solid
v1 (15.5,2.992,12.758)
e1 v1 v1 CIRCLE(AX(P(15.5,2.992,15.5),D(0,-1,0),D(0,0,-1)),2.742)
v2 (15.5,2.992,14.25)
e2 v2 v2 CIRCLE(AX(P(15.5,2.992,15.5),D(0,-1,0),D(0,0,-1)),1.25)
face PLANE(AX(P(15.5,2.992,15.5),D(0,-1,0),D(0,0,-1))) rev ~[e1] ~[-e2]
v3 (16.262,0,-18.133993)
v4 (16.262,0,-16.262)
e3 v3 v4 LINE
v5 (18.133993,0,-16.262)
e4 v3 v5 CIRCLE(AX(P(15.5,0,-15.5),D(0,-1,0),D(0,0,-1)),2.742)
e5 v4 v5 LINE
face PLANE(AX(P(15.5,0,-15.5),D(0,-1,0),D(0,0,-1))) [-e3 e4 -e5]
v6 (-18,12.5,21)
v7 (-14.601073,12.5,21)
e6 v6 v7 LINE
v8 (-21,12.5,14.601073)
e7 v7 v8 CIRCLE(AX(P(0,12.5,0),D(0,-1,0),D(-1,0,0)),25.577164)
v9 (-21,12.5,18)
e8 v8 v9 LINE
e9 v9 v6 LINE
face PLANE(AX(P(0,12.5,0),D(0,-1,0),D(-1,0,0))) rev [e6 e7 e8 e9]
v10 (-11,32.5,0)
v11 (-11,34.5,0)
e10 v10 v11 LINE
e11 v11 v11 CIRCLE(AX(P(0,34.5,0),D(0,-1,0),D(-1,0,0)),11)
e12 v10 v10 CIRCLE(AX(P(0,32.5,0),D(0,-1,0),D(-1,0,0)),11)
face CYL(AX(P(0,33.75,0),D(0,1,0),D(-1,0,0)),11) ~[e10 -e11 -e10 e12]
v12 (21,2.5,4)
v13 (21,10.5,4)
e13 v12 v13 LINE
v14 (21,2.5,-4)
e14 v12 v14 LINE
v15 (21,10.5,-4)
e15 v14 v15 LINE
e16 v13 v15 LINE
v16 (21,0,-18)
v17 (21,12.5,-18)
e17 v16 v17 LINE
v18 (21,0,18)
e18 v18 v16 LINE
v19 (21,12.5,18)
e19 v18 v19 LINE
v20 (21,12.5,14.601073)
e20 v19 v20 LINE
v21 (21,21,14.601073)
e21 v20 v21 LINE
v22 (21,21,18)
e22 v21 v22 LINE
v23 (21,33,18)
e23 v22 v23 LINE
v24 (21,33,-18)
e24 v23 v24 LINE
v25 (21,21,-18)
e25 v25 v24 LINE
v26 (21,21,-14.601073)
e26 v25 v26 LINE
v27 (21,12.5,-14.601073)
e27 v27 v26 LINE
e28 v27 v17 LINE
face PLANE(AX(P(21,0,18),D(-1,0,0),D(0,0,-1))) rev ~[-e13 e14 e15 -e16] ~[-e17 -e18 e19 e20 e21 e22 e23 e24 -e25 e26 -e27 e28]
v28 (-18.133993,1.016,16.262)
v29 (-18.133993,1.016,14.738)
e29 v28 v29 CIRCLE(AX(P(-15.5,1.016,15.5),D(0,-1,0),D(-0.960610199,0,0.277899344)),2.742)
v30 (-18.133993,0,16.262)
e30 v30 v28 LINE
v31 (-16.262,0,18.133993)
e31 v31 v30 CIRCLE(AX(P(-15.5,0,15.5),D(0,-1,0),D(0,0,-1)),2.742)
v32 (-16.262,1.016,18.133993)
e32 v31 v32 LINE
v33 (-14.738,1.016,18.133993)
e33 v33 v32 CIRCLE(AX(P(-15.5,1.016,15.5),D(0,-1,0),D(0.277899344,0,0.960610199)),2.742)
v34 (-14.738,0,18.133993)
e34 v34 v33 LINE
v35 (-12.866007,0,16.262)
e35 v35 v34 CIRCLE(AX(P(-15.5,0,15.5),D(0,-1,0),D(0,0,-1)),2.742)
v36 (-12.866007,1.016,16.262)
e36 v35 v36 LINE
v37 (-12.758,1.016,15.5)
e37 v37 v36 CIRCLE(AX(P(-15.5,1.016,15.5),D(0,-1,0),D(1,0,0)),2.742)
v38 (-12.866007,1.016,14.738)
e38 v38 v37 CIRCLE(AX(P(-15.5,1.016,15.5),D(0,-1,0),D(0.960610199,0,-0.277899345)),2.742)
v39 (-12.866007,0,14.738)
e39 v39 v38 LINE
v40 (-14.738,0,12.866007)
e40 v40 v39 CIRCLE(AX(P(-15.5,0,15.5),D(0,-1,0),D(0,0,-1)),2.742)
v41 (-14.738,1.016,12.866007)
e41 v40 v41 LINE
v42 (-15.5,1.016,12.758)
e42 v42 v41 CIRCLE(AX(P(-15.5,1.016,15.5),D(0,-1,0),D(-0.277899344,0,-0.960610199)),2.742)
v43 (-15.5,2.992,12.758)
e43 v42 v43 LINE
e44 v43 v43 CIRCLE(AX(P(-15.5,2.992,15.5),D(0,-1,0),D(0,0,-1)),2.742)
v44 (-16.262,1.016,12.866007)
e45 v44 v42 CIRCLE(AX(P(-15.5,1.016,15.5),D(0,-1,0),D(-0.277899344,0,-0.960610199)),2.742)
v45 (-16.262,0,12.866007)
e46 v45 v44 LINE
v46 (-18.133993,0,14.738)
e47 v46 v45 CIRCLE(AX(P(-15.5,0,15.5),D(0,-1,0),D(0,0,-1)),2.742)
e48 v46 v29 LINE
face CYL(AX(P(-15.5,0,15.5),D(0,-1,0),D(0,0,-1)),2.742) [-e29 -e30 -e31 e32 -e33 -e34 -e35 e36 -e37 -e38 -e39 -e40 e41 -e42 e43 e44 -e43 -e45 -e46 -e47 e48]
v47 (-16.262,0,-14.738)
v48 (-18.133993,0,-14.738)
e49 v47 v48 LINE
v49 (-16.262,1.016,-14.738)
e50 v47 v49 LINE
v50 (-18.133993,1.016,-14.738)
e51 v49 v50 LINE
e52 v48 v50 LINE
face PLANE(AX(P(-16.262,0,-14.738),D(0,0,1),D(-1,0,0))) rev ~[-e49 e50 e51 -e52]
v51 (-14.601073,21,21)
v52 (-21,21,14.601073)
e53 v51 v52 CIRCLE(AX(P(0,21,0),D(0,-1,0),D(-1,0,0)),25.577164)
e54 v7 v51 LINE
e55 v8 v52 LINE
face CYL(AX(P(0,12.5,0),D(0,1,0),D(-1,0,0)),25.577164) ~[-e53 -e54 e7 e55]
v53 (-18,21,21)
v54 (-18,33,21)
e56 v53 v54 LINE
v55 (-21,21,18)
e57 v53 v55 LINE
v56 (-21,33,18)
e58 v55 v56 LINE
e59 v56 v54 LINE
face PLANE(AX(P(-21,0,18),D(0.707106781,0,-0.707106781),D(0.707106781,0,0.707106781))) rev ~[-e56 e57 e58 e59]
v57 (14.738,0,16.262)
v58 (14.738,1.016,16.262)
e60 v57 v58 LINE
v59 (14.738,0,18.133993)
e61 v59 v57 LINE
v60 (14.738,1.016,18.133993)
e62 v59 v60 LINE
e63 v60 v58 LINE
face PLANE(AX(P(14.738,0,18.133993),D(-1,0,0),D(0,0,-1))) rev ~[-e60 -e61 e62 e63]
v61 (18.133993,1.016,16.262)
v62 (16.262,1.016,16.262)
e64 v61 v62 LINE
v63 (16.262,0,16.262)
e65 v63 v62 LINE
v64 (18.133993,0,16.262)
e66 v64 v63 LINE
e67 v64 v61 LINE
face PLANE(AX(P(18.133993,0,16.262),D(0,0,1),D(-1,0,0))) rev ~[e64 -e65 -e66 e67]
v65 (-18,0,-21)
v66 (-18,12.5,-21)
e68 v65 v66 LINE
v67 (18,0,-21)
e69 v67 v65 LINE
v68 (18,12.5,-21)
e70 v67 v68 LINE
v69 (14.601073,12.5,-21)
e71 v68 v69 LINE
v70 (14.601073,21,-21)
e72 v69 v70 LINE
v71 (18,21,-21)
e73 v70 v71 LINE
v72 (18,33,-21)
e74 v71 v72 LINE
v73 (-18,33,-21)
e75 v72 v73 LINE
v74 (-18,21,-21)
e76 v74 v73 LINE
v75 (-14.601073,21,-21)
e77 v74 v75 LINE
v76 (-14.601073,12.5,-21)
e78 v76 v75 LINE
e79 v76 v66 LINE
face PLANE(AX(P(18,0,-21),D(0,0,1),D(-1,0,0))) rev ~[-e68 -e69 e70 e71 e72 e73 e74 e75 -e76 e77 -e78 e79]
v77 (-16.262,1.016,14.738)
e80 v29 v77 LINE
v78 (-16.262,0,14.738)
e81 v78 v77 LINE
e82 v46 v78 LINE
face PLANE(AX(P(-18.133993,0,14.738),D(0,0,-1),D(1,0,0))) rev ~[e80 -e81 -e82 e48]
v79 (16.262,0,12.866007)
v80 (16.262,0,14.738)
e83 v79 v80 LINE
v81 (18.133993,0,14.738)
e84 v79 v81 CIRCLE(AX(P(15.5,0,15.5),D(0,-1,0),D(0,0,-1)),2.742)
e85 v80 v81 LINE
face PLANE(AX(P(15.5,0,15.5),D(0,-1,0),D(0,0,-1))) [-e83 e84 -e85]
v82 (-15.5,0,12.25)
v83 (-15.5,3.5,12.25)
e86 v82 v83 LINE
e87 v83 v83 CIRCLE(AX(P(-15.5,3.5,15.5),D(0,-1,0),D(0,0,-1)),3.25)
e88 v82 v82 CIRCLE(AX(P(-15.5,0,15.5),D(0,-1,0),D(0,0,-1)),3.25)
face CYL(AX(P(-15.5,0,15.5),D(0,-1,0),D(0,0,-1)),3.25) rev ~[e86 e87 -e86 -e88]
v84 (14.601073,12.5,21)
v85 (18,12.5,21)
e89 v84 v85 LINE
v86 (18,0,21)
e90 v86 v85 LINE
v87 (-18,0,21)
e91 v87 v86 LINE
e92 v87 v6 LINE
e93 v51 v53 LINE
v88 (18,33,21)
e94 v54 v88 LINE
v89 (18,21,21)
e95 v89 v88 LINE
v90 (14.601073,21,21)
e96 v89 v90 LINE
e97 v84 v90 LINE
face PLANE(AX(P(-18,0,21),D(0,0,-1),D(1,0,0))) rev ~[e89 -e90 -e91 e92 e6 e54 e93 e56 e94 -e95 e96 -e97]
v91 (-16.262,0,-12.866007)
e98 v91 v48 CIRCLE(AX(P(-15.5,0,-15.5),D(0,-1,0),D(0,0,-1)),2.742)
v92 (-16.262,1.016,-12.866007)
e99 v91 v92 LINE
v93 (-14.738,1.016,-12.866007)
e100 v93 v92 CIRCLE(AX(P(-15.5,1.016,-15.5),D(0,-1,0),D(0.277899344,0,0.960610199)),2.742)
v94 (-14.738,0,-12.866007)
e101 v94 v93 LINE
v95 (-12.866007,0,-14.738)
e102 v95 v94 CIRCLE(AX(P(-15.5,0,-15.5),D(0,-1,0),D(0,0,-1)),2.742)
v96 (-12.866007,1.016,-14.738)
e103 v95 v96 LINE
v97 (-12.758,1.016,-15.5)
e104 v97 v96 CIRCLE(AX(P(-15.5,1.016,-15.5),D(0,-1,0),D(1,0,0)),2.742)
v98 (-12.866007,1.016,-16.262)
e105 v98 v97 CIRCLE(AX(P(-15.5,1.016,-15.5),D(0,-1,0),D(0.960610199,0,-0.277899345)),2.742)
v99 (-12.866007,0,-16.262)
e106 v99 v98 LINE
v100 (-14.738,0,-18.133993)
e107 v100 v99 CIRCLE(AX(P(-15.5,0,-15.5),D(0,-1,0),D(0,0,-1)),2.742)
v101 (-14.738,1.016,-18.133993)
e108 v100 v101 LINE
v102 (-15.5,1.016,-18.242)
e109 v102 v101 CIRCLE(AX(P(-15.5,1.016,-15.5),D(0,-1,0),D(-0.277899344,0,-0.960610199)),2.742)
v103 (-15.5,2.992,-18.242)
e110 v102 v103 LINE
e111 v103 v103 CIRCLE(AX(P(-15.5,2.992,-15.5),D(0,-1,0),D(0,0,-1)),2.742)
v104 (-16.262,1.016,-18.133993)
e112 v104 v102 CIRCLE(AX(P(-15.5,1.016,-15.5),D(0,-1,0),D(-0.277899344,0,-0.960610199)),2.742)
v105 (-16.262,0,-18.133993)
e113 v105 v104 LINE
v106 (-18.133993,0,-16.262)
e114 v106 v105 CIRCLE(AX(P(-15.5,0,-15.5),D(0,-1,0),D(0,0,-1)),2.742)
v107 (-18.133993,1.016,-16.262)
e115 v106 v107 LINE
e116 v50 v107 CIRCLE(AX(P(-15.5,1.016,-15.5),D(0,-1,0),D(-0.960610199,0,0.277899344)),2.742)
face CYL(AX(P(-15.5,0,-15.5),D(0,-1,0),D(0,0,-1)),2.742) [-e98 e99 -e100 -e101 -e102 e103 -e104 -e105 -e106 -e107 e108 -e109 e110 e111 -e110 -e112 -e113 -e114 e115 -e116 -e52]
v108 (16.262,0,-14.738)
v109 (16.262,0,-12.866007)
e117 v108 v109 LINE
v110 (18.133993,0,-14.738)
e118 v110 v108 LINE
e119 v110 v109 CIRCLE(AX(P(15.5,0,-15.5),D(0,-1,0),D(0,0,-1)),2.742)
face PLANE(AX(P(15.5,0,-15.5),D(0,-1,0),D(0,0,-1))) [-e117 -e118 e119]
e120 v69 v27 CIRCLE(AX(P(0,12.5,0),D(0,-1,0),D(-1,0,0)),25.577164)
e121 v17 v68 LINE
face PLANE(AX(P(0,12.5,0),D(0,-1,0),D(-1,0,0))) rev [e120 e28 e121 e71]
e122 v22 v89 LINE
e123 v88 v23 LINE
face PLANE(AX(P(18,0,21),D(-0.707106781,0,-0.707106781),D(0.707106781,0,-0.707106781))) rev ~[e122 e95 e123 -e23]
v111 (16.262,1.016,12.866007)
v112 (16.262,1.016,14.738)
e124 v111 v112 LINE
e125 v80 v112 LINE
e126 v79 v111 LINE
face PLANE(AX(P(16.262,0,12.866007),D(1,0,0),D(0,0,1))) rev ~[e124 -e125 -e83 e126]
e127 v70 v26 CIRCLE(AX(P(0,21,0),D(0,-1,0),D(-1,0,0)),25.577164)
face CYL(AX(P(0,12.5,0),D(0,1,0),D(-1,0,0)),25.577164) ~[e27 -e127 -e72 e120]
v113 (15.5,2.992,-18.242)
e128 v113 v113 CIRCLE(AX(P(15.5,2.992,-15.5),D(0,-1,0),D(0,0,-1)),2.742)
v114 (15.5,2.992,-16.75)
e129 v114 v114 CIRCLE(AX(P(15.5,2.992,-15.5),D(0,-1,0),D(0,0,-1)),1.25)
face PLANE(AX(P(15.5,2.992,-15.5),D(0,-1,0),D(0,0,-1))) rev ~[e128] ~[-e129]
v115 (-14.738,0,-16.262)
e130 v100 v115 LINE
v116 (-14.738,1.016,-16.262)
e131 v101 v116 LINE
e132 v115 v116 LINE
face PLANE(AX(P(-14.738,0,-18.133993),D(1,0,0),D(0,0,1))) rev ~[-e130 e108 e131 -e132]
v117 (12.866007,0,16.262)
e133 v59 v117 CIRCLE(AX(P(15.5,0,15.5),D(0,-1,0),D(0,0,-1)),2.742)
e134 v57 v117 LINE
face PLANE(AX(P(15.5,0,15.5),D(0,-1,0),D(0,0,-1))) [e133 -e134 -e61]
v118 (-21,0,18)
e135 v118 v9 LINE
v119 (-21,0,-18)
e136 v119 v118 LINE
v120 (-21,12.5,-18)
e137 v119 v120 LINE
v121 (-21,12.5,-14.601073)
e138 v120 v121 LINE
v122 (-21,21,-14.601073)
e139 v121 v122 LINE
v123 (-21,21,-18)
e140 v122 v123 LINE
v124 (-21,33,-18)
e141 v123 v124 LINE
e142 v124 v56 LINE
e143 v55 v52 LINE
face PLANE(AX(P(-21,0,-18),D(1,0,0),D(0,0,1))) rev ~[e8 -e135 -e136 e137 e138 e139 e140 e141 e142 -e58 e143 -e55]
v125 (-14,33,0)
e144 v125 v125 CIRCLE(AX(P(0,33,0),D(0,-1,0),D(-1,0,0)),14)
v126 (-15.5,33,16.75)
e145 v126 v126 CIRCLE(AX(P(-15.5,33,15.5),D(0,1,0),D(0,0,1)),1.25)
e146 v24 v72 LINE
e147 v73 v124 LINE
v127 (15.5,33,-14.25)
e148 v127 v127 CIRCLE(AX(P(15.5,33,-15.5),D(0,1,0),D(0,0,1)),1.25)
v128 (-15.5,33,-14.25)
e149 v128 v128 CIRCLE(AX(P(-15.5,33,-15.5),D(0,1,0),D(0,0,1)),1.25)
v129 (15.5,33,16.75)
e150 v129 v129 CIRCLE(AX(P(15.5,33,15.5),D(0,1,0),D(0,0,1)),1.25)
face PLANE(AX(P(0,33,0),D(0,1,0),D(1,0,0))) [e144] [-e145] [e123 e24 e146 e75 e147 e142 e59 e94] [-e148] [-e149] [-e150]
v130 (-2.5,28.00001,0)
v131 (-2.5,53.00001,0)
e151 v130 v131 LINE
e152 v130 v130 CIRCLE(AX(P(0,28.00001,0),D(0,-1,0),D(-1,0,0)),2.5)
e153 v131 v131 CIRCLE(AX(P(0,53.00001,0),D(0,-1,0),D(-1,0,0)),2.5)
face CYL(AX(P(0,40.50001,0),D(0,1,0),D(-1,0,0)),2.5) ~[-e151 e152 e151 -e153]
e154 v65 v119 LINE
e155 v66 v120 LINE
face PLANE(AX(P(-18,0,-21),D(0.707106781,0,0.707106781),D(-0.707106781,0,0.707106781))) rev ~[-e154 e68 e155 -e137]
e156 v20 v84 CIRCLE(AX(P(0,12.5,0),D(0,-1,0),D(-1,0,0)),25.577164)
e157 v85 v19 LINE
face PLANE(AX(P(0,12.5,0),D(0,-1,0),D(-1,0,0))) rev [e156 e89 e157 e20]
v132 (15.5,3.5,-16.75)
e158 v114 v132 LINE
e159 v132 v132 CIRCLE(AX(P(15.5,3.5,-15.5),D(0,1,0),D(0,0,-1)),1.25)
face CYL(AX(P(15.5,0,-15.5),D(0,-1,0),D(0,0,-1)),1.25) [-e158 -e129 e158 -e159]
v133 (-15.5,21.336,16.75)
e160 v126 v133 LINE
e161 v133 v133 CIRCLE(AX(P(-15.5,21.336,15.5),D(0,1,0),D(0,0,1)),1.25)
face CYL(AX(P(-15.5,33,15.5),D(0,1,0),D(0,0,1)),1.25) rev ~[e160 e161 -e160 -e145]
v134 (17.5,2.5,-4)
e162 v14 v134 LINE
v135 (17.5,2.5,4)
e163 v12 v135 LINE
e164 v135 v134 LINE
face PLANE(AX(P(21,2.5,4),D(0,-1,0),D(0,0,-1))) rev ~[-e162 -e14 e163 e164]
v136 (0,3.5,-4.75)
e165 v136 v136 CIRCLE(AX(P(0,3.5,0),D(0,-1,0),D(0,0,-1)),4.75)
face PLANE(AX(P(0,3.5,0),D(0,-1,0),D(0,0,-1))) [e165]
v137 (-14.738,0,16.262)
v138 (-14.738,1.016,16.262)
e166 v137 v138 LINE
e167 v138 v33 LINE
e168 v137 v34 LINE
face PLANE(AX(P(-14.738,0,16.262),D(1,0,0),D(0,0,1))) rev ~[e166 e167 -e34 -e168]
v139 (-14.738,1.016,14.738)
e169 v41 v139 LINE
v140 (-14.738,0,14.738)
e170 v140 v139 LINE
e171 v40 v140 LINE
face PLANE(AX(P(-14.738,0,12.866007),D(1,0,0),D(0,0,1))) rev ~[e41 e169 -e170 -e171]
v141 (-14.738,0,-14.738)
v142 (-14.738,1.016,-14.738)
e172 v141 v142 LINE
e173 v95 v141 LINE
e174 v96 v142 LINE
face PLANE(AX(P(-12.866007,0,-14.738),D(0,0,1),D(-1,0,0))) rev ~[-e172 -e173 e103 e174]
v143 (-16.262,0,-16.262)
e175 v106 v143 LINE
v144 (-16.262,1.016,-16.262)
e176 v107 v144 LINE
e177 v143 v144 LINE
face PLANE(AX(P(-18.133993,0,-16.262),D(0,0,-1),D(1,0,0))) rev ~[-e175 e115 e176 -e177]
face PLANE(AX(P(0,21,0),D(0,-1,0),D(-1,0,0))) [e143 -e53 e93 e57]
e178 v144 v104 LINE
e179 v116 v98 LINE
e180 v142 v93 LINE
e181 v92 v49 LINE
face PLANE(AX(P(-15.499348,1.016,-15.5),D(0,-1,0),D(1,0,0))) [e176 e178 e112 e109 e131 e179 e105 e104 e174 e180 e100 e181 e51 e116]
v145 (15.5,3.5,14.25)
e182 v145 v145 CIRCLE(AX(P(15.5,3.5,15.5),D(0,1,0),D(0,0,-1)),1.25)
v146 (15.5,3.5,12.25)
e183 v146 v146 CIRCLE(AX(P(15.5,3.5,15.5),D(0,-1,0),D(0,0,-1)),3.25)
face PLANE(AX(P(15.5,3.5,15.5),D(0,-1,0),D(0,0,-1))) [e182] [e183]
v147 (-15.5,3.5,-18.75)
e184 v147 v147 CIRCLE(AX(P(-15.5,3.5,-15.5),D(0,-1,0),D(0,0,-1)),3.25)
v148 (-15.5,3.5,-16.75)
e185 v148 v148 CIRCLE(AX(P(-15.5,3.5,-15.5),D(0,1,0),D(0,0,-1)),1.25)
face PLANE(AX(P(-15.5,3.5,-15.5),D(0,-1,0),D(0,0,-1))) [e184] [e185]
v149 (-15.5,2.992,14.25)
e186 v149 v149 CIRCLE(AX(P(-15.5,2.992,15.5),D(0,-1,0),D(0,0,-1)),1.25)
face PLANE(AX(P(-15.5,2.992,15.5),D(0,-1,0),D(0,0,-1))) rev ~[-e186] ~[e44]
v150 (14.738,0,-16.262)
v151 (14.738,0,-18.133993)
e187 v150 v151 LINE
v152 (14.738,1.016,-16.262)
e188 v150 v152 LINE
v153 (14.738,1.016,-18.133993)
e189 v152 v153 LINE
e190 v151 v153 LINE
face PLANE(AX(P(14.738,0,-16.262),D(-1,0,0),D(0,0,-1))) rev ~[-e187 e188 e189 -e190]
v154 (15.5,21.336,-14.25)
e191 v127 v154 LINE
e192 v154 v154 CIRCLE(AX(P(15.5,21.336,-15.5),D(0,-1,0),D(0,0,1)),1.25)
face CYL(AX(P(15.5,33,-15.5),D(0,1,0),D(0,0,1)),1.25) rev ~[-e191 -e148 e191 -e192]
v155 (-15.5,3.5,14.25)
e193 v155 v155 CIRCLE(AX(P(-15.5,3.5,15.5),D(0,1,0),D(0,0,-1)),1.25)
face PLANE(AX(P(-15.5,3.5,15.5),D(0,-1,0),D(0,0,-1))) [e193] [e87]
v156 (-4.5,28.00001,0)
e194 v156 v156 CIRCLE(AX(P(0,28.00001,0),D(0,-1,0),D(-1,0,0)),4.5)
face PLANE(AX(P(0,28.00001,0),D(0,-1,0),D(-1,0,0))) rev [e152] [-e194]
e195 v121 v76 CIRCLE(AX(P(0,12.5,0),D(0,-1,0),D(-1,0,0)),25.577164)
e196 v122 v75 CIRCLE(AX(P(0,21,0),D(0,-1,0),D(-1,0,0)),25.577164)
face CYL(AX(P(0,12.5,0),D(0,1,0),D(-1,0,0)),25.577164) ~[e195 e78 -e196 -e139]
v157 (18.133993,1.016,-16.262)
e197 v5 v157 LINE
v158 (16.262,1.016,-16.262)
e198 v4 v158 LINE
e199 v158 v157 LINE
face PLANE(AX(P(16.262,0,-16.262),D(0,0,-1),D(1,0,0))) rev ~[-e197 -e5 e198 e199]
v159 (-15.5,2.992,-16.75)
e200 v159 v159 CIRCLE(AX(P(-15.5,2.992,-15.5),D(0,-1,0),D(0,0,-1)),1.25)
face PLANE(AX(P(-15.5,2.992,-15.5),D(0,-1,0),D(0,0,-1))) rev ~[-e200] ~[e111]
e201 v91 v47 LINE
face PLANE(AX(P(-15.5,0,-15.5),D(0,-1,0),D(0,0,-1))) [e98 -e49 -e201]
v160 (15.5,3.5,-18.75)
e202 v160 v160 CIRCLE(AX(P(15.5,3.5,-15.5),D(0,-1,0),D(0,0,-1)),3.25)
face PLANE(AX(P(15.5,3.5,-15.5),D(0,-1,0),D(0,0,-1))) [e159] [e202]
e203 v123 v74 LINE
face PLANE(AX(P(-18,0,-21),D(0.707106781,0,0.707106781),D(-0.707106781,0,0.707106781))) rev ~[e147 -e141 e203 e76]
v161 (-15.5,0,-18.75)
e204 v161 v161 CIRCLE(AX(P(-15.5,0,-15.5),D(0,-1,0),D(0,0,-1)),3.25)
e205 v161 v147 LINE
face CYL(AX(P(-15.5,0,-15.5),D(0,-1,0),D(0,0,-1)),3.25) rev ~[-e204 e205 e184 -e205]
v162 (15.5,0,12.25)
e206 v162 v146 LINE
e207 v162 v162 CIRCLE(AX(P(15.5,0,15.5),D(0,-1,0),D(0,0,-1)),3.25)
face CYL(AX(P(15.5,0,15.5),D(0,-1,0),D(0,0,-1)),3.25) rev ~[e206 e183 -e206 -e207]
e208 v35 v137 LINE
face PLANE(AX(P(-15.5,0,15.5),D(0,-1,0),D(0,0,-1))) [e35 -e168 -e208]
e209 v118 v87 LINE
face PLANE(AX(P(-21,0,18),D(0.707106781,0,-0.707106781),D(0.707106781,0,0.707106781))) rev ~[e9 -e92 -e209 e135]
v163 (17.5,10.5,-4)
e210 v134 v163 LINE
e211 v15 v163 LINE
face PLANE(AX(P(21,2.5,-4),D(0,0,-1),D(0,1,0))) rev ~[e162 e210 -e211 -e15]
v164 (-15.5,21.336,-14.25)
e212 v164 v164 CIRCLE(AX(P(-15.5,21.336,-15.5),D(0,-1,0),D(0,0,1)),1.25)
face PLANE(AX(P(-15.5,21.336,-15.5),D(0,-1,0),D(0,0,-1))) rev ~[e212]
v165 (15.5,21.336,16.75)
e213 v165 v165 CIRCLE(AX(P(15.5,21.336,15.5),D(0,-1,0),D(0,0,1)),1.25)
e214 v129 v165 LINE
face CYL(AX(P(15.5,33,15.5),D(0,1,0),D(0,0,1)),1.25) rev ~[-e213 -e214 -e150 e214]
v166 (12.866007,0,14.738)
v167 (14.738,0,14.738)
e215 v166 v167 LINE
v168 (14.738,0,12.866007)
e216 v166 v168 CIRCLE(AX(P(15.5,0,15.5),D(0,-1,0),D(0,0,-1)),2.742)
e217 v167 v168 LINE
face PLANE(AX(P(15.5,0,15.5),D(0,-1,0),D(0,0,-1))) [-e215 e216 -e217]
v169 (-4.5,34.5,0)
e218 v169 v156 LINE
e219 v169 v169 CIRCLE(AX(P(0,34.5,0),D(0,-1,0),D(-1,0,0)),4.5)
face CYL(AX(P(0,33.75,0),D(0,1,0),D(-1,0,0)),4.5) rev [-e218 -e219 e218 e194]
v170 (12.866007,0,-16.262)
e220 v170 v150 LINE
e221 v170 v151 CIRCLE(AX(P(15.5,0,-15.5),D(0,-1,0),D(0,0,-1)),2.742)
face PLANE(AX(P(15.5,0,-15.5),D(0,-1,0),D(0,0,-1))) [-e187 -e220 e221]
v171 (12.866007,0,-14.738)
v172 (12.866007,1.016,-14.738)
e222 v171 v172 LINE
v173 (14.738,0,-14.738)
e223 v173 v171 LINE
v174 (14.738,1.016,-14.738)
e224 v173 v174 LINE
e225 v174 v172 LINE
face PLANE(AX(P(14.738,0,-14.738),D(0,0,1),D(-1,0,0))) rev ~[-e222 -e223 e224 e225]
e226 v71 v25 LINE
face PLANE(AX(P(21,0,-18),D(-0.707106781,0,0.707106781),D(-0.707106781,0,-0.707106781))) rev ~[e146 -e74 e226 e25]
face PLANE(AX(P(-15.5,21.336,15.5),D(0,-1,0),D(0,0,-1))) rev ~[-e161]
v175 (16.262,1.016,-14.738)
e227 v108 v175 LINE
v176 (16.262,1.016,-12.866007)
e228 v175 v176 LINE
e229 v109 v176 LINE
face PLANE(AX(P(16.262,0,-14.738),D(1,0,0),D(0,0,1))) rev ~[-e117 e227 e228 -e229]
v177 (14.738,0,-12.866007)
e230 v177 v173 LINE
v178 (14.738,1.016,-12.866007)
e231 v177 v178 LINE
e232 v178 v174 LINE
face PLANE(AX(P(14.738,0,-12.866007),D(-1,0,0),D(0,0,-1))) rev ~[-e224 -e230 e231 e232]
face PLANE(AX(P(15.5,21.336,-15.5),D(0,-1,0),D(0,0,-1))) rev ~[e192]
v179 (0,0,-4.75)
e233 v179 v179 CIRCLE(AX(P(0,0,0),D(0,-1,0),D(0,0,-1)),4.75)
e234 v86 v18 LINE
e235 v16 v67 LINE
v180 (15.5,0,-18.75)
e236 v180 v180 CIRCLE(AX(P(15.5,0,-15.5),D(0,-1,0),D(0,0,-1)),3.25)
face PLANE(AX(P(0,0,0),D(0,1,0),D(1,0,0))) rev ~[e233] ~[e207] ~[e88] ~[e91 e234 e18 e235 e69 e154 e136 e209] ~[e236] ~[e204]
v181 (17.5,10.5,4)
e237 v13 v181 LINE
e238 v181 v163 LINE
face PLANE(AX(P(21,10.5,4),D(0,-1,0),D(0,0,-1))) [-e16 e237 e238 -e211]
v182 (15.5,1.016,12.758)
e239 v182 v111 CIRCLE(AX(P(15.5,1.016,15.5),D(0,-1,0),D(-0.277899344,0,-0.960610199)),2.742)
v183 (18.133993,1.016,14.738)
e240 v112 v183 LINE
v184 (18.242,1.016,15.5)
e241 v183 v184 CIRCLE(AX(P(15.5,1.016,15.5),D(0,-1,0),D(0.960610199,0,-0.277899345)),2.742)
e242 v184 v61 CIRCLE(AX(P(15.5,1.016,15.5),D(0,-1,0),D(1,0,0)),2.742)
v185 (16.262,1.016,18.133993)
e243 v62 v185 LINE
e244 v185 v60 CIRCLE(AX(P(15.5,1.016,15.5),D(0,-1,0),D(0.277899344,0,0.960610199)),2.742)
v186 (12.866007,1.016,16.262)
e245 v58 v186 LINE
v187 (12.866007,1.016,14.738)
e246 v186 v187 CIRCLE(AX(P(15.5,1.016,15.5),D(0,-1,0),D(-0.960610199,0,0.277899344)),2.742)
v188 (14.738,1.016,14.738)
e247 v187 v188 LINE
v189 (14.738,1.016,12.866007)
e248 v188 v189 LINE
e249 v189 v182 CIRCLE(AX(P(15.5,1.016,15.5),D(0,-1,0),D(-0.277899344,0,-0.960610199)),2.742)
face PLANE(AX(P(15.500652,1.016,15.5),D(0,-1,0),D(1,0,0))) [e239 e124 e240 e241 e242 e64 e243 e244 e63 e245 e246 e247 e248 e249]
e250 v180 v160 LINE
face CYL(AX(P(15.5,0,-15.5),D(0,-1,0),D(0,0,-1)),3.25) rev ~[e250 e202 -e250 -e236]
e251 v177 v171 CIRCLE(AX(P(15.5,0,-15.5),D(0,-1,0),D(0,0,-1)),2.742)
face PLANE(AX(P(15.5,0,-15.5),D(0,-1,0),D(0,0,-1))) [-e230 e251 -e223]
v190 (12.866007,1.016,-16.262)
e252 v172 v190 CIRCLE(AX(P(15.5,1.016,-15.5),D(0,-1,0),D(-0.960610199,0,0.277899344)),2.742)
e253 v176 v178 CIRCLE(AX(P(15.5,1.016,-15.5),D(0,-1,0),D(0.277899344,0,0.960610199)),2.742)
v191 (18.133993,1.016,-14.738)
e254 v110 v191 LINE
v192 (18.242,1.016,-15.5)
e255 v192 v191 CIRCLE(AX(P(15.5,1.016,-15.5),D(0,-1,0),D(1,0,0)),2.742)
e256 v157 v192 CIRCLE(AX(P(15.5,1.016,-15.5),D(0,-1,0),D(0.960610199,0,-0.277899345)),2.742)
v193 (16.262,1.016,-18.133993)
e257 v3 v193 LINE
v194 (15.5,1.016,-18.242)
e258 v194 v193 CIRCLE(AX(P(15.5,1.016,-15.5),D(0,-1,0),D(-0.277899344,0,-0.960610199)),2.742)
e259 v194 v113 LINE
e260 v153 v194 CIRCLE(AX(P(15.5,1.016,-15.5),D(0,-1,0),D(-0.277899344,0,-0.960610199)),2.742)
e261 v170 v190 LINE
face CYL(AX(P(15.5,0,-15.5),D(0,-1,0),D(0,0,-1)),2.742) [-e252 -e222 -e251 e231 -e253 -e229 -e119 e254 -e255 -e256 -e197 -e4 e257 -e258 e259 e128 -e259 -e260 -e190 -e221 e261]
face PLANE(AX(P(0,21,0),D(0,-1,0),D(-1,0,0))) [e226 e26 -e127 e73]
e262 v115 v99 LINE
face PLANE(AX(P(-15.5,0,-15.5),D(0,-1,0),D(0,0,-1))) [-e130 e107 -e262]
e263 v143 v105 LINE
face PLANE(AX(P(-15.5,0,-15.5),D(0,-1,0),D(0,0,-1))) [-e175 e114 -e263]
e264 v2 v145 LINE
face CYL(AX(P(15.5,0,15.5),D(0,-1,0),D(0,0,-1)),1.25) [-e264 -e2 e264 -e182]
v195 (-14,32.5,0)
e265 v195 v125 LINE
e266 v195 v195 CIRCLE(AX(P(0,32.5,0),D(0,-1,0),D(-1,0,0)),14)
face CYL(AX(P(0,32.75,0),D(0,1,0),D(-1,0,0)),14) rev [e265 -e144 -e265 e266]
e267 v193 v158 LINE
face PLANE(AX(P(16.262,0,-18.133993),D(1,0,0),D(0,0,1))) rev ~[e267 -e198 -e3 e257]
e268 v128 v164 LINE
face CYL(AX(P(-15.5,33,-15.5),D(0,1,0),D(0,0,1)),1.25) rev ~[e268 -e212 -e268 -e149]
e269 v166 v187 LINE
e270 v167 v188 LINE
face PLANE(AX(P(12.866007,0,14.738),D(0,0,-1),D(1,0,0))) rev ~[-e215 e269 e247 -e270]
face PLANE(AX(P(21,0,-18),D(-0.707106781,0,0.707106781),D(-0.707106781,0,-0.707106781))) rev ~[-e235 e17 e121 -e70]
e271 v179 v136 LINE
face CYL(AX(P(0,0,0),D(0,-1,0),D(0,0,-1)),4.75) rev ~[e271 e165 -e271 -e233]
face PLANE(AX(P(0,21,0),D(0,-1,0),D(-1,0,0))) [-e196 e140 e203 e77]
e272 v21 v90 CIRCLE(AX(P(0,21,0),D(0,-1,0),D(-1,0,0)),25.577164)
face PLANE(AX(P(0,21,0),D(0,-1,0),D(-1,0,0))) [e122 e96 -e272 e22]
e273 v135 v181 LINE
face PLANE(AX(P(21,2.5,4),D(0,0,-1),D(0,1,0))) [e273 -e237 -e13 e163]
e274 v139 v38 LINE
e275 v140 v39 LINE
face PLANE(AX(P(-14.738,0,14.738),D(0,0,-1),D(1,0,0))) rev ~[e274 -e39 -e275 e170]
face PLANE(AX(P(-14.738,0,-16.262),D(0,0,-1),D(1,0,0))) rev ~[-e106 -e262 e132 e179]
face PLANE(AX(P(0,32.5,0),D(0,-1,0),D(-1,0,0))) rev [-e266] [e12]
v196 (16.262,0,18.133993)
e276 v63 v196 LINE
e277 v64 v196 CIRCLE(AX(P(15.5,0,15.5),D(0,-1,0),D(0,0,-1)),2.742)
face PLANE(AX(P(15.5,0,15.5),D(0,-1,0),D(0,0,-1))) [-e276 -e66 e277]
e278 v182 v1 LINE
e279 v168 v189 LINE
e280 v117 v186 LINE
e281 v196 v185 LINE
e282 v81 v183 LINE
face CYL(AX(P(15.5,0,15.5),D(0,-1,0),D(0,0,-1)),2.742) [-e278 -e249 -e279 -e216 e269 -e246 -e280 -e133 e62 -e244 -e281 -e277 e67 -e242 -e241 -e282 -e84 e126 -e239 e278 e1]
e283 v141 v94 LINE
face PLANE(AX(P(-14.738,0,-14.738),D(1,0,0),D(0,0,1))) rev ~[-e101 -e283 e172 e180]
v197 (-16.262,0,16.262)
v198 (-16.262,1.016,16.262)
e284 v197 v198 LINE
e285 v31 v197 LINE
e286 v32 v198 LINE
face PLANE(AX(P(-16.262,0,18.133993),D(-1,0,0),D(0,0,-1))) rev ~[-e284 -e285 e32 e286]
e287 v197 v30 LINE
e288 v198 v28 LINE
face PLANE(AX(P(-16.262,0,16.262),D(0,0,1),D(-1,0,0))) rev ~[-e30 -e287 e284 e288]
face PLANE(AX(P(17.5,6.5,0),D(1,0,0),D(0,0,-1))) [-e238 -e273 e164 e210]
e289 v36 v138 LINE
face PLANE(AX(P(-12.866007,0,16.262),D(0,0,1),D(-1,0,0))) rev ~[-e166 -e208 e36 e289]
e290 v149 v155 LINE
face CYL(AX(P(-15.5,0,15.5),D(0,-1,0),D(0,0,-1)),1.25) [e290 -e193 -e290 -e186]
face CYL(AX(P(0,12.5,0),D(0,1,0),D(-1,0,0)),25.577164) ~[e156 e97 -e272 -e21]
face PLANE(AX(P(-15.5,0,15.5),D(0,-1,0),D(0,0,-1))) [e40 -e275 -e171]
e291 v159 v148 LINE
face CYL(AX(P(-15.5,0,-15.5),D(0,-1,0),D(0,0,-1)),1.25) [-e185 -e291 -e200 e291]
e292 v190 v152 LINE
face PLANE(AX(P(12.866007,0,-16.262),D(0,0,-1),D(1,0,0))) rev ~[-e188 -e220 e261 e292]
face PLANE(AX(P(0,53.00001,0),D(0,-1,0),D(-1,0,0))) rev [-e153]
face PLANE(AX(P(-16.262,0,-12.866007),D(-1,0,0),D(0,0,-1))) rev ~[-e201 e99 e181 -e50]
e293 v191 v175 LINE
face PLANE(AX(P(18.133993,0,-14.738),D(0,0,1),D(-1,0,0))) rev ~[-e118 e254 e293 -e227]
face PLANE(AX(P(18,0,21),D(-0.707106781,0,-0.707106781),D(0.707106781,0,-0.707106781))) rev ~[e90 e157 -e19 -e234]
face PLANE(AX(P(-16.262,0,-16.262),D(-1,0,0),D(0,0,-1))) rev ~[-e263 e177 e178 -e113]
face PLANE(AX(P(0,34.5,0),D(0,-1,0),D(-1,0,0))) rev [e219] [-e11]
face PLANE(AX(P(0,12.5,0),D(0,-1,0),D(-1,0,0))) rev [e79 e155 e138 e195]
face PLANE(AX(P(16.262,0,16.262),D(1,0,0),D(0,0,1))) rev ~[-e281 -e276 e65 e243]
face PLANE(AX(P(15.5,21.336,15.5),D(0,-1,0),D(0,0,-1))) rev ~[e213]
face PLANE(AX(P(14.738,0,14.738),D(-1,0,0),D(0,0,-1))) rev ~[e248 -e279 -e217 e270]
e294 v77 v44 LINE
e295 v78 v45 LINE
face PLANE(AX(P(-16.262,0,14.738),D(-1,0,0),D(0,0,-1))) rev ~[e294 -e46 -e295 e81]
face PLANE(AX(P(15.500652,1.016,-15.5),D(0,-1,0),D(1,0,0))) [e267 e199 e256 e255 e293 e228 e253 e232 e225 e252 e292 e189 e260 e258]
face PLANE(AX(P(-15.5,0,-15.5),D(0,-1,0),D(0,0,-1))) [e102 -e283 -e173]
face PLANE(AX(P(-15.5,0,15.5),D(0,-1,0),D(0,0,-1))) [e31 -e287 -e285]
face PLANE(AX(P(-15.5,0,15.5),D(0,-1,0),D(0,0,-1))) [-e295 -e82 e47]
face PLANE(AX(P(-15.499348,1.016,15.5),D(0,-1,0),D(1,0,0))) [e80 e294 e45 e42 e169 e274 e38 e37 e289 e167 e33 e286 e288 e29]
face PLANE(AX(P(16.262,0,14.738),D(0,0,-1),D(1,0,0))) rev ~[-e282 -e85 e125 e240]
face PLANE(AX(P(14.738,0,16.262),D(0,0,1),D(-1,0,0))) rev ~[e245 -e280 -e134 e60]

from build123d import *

# Parameters (mm, degrees)
BOSS_EXTRUDE1_DEPTH = 33
SKETCH3_W           = 4.5
SKETCH3_H           = 4.99999
SKETCH3_W_2         = 3
SKETCH3_H_2         = 0.5
SKETCH4_R           = 1.25
CUT_EXTRUDE1_DEPTH  = 45.395945761
SKETCH5_R           = 3.25
SKETCH5_R_2         = 4.75
CUT_EXTRUDE2_DEPTH  = 3.5
SKETCH6_W           = 8
SKETCH6_H           = 8
CUT_EXTRUDE3_DEPTH  = 3.5
SKETCH7_W           = 6.5
SKETCH7_H           = 1.5
SKETCH7_W_2         = 2.5
SKETCH7_H_2         = 25
SKETCH8_R           = 2.742
SKETCH8_R_2         = 1.25
BOSS_EXTRUDE2_DEPTH = 2.992
SKETCH8_3_R         = 1.25
BOSS_EXTRUDE3_DEPTH = 21.336
CUT_EXTRUDE4_DEPTH  = 1.016


with BuildPart() as part:
    # Sketch1 → Boss-Extrude1 (new body)
    with BuildSketch(Plane(origin=(0, 0, 0), x_dir=(1, 0, 0), z_dir=(0, 1, 0))):
        Polygon((-18, 21), (-21, 18), (-21, -18), (-18, -21), (18, -21), (21, -18), (21, 18), (18, 21), align=None)
    extrude(amount=BOSS_EXTRUDE1_DEPTH)

    # Sketch3 → Cut-Revolve2 (revolve, cut)
    with BuildSketch(Plane(origin=(0, 0, 0), x_dir=(0.7071067811865481, 0, -0.7071067811865469), z_dir=(0.7071067811865469, 0, 0.7071067811865481)), mode=Mode.PRIVATE) as cut_revolve2_sk:
        with Locations((2.25, 30.500005)):
            Rectangle(SKETCH3_W, SKETCH3_H)
        Polygon((29.355164466, 12.5), (27.577164466, 12.5), (25.577164466, 12.5), (25.577164466, 21), (27.577164466, 21), (29.355164466, 21), align=None)
        with Locations((12.5, 32.75)):
            Rectangle(SKETCH3_W_2, SKETCH3_H_2)
    revolve(cut_revolve2_sk.sketch.rotate(Axis((0, 33, 0), (0, -1, 0)), 225), axis=Axis((0, 33, 0), (0, -1, 0)), mode=Mode.SUBTRACT)

    # Sketch4 → Cut-Extrude1 (cut, through all)
    with BuildSketch(Plane(origin=(0, 33, 0), x_dir=(1, 0, 0), z_dir=(0, 1, 0))):
        with Locations(Location((-15.5, 15.5, 0), (0, 0, 270))):
            Circle(SKETCH4_R)
        with Locations(Location((15.5, 15.5, 0), (0, 0, 270))):
            Circle(SKETCH4_R)
        with Locations(Location((15.5, -15.5, 0), (0, 0, 270))):
            Circle(SKETCH4_R)
        with Locations(Location((-15.5, -15.5, 0), (0, 0, 270))):
            Circle(SKETCH4_R)
    extrude(amount=-CUT_EXTRUDE1_DEPTH, mode=Mode.SUBTRACT)

    # Sketch5 → Cut-Extrude2 (cut)
    with BuildSketch(Plane.XZ):
        with Locations(Location((-15.5, 15.5, 0), (0, 0, 270))):
            Circle(SKETCH5_R)
        with Locations(Location((-15.5, -15.5, 0), (0, 0, 270))):
            Circle(SKETCH5_R)
        with Locations(Location((15.5, -15.5, 0), (0, 0, 270))):
            Circle(SKETCH5_R)
        with Locations(Location((15.5, 15.5, 0), (0, 0, 270))):
            Circle(SKETCH5_R)
        with Locations(Location((0, 0, 0), (0, 0, 270))):
            Circle(SKETCH5_R_2)
    extrude(amount=-CUT_EXTRUDE2_DEPTH, mode=Mode.SUBTRACT)

    # Sketch6 → Cut-Extrude3 (cut)
    with BuildSketch(Plane(origin=(21, 0, 0), x_dir=(0, 0, -1), z_dir=(1, 0, 0))):
        with Locations((0, 6.5)):
            Rectangle(SKETCH6_W, SKETCH6_H)
    extrude(amount=-CUT_EXTRUDE3_DEPTH, mode=Mode.SUBTRACT)

    # Sketch7 → Revolve1 (revolve)
    with BuildSketch(Plane(origin=(0, 0, 0), x_dir=(0.7071067811865481, 0, -0.7071067811865469), z_dir=(0.7071067811865469, 0, 0.7071067811865481)), mode=Mode.PRIVATE) as revolve1_sk:
        with Locations((7.75, 33.75)):
            Rectangle(SKETCH7_W, SKETCH7_H)
        with Locations((1.25, 40.50001)):
            Rectangle(SKETCH7_W_2, SKETCH7_H_2)
    revolve(revolve1_sk.sketch.rotate(Axis((0, 33, 0), (0, -1, 0)), 225), axis=Axis((0, 33, 0), (0, -1, 0)))



with BuildPart() as body_2:
    # Sketch8 → Boss-Extrude2 (new body)
    with BuildSketch(Plane.XZ):
        with Locations(Location((-15.5, 15.5, 0), (0, 0, 270))):
            Circle(SKETCH8_R)
        with Locations(Location((-15.5, 15.5, 0), (0, 0, 90))):
            Circle(SKETCH8_R_2, mode=Mode.SUBTRACT)
        with Locations(Location((-15.5, 15.5, 0), (0, 0, 90))):
            Circle(SKETCH8_R_2)
        with Locations(Location((15.5, 15.5, 0), (0, 0, 270))):
            Circle(SKETCH8_R)
        with Locations(Location((15.5, 15.5, 0), (0, 0, 90))):
            Circle(SKETCH8_R_2, mode=Mode.SUBTRACT)
        with Locations(Location((15.5, 15.5, 0), (0, 0, 90))):
            Circle(SKETCH8_R_2)
        with Locations(Location((15.5, -15.5, 0), (0, 0, 270))):
            Circle(SKETCH8_R)
        with Locations(Location((15.5, -15.5, 0), (0, 0, 90))):
            Circle(SKETCH8_R_2, mode=Mode.SUBTRACT)
        with Locations(Location((15.5, -15.5, 0), (0, 0, 90))):
            Circle(SKETCH8_R_2)
        with Locations(Location((-15.5, -15.5, 0), (0, 0, 270))):
            Circle(SKETCH8_R)
        with Locations(Location((-15.5, -15.5, 0), (0, 0, 90))):
            Circle(SKETCH8_R_2, mode=Mode.SUBTRACT)
        with Locations(Location((-15.5, -15.5, 0), (0, 0, 90))):
            Circle(SKETCH8_R_2)
    extrude(amount=-BOSS_EXTRUDE2_DEPTH)


with BuildPart() as part_1:
    add(part.part)

    add(body_2.part)  # Boss-Extrude3 merges body 2
    # Sketch8<3> → Boss-Extrude3 (add)
    with BuildSketch(Plane.XZ):
        with Locations(Location((-15.5, 15.5, 0), (0, 0, 270))):
            Circle(SKETCH8_3_R)
        with Locations(Location((-15.5, -15.5, 0), (0, 0, 270))):
            Circle(SKETCH8_3_R)
        with Locations(Location((15.5, -15.5, 0), (0, 0, 270))):
            Circle(SKETCH8_3_R)
        with Locations(Location((15.5, 15.5, 0), (0, 0, 270))):
            Circle(SKETCH8_3_R)
    extrude(amount=-BOSS_EXTRUDE3_DEPTH)

    # Sketch9 → Cut-Extrude4 (cut)
    with BuildSketch(Plane.XZ):
        with BuildLine():
            Line((16.262, -16.262), (18.133993166, -16.262))
            ThreePointArc((18.133993166, -16.262), (18.214864017, -15.884808224), (18.242, -15.5))
            ThreePointArc((18.242, -15.5), (18.214864017, -15.115191776), (18.133993166, -14.738))
            Line((18.133993166, -14.738), (16.262, -14.738))
            Line((16.262, -14.738), (16.262, -12.866006834))
            ThreePointArc((16.262, -12.866006834), (15.5, -12.758), (14.738, -12.866006834))
            Line((14.738, -12.866006834), (14.738, -14.738))
            Line((14.738, -14.738), (12.866006834, -14.738))
            ThreePointArc((12.866006834, -14.738), (12.758, -15.5), (12.866006834, -16.262))
            Line((12.866006834, -16.262), (14.738, -16.262))
            Line((14.738, -16.262), (14.738, -18.133993166))
            ThreePointArc((14.738, -18.133993166), (15.5, -18.242), (16.262, -18.133993166))
            Line((16.262, -18.133993166), (16.262, -16.262))
        make_face()
        with BuildLine():
            ThreePointArc((-12.758, -15.5), (-12.785135983, -15.115191776), (-12.866006834, -14.738))
            Line((-12.866006834, -14.738), (-14.738, -14.738))
            Line((-14.738, -14.738), (-14.738, -12.866006834))
            ThreePointArc((-14.738, -12.866006834), (-15.5, -12.758), (-16.262, -12.866006834))
            Line((-16.262, -12.866006834), (-16.262, -14.738))
            Line((-16.262, -14.738), (-18.133993166, -14.738))
            ThreePointArc((-18.133993166, -14.738), (-18.242, -15.5), (-18.133993166, -16.262))
            Line((-18.133993166, -16.262), (-16.262, -16.262))
            Line((-16.262, -16.262), (-16.262, -18.133993166))
            ThreePointArc((-16.262, -18.133993166), (-15.5, -18.242), (-14.738, -18.133993166))
            Line((-14.738, -18.133993166), (-14.738, -16.262))
            Line((-14.738, -16.262), (-12.866006834, -16.262))
            ThreePointArc((-12.866006834, -16.262), (-12.785135983, -15.884808224), (-12.758, -15.5))
        make_face()
        with BuildLine():
            Line((-16.262, 16.262), (-18.133993166, 16.262))
            ThreePointArc((-18.133993166, 16.262), (-18.242, 15.5), (-18.133993166, 14.738))
            Line((-18.133993166, 14.738), (-16.262, 14.738))
            Line((-16.262, 14.738), (-16.262, 12.866006834))
            ThreePointArc((-16.262, 12.866006834), (-15.5, 12.758), (-14.738, 12.866006834))
            Line((-14.738, 12.866006834), (-14.738, 14.738))
            Line((-14.738, 14.738), (-12.866006834, 14.738))
            ThreePointArc((-12.866006834, 14.738), (-12.785135983, 15.115191776), (-12.758, 15.5))
            ThreePointArc((-12.758, 15.5), (-12.785135983, 15.884808224), (-12.866006834, 16.262))
            Line((-12.866006834, 16.262), (-14.738, 16.262))
            Line((-14.738, 16.262), (-14.738, 18.133993166))
            ThreePointArc((-14.738, 18.133993166), (-15.5, 18.242), (-16.262, 18.133993166))
            Line((-16.262, 18.133993166), (-16.262, 16.262))
        make_face()
        with BuildLine():
            ThreePointArc((12.866006834, 16.262), (12.758, 15.5), (12.866006834, 14.738))
            Line((12.866006834, 14.738), (14.738, 14.738))
            Line((14.738, 14.738), (14.738, 12.866006834))
            ThreePointArc((14.738, 12.866006834), (15.5, 12.758), (16.262, 12.866006834))
            Line((16.262, 12.866006834), (16.262, 14.738))
            Line((16.262, 14.738), (18.133993166, 14.738))
            ThreePointArc((18.133993166, 14.738), (18.214864017, 15.115191776), (18.242, 15.5))
            ThreePointArc((18.242, 15.5), (18.214864017, 15.884808224), (18.133993166, 16.262))
            Line((18.133993166, 16.262), (16.262, 16.262))
            Line((16.262, 16.262), (16.262, 18.133993166))
            ThreePointArc((16.262, 18.133993166), (15.5, 18.242), (14.738, 18.133993166))
            Line((14.738, 18.133993166), (14.738, 16.262))
            Line((14.738, 16.262), (12.866006834, 16.262))
        make_face()
    extrude(amount=-CUT_EXTRUDE4_DEPTH, mode=Mode.SUBTRACT)


solid = part_1.part
